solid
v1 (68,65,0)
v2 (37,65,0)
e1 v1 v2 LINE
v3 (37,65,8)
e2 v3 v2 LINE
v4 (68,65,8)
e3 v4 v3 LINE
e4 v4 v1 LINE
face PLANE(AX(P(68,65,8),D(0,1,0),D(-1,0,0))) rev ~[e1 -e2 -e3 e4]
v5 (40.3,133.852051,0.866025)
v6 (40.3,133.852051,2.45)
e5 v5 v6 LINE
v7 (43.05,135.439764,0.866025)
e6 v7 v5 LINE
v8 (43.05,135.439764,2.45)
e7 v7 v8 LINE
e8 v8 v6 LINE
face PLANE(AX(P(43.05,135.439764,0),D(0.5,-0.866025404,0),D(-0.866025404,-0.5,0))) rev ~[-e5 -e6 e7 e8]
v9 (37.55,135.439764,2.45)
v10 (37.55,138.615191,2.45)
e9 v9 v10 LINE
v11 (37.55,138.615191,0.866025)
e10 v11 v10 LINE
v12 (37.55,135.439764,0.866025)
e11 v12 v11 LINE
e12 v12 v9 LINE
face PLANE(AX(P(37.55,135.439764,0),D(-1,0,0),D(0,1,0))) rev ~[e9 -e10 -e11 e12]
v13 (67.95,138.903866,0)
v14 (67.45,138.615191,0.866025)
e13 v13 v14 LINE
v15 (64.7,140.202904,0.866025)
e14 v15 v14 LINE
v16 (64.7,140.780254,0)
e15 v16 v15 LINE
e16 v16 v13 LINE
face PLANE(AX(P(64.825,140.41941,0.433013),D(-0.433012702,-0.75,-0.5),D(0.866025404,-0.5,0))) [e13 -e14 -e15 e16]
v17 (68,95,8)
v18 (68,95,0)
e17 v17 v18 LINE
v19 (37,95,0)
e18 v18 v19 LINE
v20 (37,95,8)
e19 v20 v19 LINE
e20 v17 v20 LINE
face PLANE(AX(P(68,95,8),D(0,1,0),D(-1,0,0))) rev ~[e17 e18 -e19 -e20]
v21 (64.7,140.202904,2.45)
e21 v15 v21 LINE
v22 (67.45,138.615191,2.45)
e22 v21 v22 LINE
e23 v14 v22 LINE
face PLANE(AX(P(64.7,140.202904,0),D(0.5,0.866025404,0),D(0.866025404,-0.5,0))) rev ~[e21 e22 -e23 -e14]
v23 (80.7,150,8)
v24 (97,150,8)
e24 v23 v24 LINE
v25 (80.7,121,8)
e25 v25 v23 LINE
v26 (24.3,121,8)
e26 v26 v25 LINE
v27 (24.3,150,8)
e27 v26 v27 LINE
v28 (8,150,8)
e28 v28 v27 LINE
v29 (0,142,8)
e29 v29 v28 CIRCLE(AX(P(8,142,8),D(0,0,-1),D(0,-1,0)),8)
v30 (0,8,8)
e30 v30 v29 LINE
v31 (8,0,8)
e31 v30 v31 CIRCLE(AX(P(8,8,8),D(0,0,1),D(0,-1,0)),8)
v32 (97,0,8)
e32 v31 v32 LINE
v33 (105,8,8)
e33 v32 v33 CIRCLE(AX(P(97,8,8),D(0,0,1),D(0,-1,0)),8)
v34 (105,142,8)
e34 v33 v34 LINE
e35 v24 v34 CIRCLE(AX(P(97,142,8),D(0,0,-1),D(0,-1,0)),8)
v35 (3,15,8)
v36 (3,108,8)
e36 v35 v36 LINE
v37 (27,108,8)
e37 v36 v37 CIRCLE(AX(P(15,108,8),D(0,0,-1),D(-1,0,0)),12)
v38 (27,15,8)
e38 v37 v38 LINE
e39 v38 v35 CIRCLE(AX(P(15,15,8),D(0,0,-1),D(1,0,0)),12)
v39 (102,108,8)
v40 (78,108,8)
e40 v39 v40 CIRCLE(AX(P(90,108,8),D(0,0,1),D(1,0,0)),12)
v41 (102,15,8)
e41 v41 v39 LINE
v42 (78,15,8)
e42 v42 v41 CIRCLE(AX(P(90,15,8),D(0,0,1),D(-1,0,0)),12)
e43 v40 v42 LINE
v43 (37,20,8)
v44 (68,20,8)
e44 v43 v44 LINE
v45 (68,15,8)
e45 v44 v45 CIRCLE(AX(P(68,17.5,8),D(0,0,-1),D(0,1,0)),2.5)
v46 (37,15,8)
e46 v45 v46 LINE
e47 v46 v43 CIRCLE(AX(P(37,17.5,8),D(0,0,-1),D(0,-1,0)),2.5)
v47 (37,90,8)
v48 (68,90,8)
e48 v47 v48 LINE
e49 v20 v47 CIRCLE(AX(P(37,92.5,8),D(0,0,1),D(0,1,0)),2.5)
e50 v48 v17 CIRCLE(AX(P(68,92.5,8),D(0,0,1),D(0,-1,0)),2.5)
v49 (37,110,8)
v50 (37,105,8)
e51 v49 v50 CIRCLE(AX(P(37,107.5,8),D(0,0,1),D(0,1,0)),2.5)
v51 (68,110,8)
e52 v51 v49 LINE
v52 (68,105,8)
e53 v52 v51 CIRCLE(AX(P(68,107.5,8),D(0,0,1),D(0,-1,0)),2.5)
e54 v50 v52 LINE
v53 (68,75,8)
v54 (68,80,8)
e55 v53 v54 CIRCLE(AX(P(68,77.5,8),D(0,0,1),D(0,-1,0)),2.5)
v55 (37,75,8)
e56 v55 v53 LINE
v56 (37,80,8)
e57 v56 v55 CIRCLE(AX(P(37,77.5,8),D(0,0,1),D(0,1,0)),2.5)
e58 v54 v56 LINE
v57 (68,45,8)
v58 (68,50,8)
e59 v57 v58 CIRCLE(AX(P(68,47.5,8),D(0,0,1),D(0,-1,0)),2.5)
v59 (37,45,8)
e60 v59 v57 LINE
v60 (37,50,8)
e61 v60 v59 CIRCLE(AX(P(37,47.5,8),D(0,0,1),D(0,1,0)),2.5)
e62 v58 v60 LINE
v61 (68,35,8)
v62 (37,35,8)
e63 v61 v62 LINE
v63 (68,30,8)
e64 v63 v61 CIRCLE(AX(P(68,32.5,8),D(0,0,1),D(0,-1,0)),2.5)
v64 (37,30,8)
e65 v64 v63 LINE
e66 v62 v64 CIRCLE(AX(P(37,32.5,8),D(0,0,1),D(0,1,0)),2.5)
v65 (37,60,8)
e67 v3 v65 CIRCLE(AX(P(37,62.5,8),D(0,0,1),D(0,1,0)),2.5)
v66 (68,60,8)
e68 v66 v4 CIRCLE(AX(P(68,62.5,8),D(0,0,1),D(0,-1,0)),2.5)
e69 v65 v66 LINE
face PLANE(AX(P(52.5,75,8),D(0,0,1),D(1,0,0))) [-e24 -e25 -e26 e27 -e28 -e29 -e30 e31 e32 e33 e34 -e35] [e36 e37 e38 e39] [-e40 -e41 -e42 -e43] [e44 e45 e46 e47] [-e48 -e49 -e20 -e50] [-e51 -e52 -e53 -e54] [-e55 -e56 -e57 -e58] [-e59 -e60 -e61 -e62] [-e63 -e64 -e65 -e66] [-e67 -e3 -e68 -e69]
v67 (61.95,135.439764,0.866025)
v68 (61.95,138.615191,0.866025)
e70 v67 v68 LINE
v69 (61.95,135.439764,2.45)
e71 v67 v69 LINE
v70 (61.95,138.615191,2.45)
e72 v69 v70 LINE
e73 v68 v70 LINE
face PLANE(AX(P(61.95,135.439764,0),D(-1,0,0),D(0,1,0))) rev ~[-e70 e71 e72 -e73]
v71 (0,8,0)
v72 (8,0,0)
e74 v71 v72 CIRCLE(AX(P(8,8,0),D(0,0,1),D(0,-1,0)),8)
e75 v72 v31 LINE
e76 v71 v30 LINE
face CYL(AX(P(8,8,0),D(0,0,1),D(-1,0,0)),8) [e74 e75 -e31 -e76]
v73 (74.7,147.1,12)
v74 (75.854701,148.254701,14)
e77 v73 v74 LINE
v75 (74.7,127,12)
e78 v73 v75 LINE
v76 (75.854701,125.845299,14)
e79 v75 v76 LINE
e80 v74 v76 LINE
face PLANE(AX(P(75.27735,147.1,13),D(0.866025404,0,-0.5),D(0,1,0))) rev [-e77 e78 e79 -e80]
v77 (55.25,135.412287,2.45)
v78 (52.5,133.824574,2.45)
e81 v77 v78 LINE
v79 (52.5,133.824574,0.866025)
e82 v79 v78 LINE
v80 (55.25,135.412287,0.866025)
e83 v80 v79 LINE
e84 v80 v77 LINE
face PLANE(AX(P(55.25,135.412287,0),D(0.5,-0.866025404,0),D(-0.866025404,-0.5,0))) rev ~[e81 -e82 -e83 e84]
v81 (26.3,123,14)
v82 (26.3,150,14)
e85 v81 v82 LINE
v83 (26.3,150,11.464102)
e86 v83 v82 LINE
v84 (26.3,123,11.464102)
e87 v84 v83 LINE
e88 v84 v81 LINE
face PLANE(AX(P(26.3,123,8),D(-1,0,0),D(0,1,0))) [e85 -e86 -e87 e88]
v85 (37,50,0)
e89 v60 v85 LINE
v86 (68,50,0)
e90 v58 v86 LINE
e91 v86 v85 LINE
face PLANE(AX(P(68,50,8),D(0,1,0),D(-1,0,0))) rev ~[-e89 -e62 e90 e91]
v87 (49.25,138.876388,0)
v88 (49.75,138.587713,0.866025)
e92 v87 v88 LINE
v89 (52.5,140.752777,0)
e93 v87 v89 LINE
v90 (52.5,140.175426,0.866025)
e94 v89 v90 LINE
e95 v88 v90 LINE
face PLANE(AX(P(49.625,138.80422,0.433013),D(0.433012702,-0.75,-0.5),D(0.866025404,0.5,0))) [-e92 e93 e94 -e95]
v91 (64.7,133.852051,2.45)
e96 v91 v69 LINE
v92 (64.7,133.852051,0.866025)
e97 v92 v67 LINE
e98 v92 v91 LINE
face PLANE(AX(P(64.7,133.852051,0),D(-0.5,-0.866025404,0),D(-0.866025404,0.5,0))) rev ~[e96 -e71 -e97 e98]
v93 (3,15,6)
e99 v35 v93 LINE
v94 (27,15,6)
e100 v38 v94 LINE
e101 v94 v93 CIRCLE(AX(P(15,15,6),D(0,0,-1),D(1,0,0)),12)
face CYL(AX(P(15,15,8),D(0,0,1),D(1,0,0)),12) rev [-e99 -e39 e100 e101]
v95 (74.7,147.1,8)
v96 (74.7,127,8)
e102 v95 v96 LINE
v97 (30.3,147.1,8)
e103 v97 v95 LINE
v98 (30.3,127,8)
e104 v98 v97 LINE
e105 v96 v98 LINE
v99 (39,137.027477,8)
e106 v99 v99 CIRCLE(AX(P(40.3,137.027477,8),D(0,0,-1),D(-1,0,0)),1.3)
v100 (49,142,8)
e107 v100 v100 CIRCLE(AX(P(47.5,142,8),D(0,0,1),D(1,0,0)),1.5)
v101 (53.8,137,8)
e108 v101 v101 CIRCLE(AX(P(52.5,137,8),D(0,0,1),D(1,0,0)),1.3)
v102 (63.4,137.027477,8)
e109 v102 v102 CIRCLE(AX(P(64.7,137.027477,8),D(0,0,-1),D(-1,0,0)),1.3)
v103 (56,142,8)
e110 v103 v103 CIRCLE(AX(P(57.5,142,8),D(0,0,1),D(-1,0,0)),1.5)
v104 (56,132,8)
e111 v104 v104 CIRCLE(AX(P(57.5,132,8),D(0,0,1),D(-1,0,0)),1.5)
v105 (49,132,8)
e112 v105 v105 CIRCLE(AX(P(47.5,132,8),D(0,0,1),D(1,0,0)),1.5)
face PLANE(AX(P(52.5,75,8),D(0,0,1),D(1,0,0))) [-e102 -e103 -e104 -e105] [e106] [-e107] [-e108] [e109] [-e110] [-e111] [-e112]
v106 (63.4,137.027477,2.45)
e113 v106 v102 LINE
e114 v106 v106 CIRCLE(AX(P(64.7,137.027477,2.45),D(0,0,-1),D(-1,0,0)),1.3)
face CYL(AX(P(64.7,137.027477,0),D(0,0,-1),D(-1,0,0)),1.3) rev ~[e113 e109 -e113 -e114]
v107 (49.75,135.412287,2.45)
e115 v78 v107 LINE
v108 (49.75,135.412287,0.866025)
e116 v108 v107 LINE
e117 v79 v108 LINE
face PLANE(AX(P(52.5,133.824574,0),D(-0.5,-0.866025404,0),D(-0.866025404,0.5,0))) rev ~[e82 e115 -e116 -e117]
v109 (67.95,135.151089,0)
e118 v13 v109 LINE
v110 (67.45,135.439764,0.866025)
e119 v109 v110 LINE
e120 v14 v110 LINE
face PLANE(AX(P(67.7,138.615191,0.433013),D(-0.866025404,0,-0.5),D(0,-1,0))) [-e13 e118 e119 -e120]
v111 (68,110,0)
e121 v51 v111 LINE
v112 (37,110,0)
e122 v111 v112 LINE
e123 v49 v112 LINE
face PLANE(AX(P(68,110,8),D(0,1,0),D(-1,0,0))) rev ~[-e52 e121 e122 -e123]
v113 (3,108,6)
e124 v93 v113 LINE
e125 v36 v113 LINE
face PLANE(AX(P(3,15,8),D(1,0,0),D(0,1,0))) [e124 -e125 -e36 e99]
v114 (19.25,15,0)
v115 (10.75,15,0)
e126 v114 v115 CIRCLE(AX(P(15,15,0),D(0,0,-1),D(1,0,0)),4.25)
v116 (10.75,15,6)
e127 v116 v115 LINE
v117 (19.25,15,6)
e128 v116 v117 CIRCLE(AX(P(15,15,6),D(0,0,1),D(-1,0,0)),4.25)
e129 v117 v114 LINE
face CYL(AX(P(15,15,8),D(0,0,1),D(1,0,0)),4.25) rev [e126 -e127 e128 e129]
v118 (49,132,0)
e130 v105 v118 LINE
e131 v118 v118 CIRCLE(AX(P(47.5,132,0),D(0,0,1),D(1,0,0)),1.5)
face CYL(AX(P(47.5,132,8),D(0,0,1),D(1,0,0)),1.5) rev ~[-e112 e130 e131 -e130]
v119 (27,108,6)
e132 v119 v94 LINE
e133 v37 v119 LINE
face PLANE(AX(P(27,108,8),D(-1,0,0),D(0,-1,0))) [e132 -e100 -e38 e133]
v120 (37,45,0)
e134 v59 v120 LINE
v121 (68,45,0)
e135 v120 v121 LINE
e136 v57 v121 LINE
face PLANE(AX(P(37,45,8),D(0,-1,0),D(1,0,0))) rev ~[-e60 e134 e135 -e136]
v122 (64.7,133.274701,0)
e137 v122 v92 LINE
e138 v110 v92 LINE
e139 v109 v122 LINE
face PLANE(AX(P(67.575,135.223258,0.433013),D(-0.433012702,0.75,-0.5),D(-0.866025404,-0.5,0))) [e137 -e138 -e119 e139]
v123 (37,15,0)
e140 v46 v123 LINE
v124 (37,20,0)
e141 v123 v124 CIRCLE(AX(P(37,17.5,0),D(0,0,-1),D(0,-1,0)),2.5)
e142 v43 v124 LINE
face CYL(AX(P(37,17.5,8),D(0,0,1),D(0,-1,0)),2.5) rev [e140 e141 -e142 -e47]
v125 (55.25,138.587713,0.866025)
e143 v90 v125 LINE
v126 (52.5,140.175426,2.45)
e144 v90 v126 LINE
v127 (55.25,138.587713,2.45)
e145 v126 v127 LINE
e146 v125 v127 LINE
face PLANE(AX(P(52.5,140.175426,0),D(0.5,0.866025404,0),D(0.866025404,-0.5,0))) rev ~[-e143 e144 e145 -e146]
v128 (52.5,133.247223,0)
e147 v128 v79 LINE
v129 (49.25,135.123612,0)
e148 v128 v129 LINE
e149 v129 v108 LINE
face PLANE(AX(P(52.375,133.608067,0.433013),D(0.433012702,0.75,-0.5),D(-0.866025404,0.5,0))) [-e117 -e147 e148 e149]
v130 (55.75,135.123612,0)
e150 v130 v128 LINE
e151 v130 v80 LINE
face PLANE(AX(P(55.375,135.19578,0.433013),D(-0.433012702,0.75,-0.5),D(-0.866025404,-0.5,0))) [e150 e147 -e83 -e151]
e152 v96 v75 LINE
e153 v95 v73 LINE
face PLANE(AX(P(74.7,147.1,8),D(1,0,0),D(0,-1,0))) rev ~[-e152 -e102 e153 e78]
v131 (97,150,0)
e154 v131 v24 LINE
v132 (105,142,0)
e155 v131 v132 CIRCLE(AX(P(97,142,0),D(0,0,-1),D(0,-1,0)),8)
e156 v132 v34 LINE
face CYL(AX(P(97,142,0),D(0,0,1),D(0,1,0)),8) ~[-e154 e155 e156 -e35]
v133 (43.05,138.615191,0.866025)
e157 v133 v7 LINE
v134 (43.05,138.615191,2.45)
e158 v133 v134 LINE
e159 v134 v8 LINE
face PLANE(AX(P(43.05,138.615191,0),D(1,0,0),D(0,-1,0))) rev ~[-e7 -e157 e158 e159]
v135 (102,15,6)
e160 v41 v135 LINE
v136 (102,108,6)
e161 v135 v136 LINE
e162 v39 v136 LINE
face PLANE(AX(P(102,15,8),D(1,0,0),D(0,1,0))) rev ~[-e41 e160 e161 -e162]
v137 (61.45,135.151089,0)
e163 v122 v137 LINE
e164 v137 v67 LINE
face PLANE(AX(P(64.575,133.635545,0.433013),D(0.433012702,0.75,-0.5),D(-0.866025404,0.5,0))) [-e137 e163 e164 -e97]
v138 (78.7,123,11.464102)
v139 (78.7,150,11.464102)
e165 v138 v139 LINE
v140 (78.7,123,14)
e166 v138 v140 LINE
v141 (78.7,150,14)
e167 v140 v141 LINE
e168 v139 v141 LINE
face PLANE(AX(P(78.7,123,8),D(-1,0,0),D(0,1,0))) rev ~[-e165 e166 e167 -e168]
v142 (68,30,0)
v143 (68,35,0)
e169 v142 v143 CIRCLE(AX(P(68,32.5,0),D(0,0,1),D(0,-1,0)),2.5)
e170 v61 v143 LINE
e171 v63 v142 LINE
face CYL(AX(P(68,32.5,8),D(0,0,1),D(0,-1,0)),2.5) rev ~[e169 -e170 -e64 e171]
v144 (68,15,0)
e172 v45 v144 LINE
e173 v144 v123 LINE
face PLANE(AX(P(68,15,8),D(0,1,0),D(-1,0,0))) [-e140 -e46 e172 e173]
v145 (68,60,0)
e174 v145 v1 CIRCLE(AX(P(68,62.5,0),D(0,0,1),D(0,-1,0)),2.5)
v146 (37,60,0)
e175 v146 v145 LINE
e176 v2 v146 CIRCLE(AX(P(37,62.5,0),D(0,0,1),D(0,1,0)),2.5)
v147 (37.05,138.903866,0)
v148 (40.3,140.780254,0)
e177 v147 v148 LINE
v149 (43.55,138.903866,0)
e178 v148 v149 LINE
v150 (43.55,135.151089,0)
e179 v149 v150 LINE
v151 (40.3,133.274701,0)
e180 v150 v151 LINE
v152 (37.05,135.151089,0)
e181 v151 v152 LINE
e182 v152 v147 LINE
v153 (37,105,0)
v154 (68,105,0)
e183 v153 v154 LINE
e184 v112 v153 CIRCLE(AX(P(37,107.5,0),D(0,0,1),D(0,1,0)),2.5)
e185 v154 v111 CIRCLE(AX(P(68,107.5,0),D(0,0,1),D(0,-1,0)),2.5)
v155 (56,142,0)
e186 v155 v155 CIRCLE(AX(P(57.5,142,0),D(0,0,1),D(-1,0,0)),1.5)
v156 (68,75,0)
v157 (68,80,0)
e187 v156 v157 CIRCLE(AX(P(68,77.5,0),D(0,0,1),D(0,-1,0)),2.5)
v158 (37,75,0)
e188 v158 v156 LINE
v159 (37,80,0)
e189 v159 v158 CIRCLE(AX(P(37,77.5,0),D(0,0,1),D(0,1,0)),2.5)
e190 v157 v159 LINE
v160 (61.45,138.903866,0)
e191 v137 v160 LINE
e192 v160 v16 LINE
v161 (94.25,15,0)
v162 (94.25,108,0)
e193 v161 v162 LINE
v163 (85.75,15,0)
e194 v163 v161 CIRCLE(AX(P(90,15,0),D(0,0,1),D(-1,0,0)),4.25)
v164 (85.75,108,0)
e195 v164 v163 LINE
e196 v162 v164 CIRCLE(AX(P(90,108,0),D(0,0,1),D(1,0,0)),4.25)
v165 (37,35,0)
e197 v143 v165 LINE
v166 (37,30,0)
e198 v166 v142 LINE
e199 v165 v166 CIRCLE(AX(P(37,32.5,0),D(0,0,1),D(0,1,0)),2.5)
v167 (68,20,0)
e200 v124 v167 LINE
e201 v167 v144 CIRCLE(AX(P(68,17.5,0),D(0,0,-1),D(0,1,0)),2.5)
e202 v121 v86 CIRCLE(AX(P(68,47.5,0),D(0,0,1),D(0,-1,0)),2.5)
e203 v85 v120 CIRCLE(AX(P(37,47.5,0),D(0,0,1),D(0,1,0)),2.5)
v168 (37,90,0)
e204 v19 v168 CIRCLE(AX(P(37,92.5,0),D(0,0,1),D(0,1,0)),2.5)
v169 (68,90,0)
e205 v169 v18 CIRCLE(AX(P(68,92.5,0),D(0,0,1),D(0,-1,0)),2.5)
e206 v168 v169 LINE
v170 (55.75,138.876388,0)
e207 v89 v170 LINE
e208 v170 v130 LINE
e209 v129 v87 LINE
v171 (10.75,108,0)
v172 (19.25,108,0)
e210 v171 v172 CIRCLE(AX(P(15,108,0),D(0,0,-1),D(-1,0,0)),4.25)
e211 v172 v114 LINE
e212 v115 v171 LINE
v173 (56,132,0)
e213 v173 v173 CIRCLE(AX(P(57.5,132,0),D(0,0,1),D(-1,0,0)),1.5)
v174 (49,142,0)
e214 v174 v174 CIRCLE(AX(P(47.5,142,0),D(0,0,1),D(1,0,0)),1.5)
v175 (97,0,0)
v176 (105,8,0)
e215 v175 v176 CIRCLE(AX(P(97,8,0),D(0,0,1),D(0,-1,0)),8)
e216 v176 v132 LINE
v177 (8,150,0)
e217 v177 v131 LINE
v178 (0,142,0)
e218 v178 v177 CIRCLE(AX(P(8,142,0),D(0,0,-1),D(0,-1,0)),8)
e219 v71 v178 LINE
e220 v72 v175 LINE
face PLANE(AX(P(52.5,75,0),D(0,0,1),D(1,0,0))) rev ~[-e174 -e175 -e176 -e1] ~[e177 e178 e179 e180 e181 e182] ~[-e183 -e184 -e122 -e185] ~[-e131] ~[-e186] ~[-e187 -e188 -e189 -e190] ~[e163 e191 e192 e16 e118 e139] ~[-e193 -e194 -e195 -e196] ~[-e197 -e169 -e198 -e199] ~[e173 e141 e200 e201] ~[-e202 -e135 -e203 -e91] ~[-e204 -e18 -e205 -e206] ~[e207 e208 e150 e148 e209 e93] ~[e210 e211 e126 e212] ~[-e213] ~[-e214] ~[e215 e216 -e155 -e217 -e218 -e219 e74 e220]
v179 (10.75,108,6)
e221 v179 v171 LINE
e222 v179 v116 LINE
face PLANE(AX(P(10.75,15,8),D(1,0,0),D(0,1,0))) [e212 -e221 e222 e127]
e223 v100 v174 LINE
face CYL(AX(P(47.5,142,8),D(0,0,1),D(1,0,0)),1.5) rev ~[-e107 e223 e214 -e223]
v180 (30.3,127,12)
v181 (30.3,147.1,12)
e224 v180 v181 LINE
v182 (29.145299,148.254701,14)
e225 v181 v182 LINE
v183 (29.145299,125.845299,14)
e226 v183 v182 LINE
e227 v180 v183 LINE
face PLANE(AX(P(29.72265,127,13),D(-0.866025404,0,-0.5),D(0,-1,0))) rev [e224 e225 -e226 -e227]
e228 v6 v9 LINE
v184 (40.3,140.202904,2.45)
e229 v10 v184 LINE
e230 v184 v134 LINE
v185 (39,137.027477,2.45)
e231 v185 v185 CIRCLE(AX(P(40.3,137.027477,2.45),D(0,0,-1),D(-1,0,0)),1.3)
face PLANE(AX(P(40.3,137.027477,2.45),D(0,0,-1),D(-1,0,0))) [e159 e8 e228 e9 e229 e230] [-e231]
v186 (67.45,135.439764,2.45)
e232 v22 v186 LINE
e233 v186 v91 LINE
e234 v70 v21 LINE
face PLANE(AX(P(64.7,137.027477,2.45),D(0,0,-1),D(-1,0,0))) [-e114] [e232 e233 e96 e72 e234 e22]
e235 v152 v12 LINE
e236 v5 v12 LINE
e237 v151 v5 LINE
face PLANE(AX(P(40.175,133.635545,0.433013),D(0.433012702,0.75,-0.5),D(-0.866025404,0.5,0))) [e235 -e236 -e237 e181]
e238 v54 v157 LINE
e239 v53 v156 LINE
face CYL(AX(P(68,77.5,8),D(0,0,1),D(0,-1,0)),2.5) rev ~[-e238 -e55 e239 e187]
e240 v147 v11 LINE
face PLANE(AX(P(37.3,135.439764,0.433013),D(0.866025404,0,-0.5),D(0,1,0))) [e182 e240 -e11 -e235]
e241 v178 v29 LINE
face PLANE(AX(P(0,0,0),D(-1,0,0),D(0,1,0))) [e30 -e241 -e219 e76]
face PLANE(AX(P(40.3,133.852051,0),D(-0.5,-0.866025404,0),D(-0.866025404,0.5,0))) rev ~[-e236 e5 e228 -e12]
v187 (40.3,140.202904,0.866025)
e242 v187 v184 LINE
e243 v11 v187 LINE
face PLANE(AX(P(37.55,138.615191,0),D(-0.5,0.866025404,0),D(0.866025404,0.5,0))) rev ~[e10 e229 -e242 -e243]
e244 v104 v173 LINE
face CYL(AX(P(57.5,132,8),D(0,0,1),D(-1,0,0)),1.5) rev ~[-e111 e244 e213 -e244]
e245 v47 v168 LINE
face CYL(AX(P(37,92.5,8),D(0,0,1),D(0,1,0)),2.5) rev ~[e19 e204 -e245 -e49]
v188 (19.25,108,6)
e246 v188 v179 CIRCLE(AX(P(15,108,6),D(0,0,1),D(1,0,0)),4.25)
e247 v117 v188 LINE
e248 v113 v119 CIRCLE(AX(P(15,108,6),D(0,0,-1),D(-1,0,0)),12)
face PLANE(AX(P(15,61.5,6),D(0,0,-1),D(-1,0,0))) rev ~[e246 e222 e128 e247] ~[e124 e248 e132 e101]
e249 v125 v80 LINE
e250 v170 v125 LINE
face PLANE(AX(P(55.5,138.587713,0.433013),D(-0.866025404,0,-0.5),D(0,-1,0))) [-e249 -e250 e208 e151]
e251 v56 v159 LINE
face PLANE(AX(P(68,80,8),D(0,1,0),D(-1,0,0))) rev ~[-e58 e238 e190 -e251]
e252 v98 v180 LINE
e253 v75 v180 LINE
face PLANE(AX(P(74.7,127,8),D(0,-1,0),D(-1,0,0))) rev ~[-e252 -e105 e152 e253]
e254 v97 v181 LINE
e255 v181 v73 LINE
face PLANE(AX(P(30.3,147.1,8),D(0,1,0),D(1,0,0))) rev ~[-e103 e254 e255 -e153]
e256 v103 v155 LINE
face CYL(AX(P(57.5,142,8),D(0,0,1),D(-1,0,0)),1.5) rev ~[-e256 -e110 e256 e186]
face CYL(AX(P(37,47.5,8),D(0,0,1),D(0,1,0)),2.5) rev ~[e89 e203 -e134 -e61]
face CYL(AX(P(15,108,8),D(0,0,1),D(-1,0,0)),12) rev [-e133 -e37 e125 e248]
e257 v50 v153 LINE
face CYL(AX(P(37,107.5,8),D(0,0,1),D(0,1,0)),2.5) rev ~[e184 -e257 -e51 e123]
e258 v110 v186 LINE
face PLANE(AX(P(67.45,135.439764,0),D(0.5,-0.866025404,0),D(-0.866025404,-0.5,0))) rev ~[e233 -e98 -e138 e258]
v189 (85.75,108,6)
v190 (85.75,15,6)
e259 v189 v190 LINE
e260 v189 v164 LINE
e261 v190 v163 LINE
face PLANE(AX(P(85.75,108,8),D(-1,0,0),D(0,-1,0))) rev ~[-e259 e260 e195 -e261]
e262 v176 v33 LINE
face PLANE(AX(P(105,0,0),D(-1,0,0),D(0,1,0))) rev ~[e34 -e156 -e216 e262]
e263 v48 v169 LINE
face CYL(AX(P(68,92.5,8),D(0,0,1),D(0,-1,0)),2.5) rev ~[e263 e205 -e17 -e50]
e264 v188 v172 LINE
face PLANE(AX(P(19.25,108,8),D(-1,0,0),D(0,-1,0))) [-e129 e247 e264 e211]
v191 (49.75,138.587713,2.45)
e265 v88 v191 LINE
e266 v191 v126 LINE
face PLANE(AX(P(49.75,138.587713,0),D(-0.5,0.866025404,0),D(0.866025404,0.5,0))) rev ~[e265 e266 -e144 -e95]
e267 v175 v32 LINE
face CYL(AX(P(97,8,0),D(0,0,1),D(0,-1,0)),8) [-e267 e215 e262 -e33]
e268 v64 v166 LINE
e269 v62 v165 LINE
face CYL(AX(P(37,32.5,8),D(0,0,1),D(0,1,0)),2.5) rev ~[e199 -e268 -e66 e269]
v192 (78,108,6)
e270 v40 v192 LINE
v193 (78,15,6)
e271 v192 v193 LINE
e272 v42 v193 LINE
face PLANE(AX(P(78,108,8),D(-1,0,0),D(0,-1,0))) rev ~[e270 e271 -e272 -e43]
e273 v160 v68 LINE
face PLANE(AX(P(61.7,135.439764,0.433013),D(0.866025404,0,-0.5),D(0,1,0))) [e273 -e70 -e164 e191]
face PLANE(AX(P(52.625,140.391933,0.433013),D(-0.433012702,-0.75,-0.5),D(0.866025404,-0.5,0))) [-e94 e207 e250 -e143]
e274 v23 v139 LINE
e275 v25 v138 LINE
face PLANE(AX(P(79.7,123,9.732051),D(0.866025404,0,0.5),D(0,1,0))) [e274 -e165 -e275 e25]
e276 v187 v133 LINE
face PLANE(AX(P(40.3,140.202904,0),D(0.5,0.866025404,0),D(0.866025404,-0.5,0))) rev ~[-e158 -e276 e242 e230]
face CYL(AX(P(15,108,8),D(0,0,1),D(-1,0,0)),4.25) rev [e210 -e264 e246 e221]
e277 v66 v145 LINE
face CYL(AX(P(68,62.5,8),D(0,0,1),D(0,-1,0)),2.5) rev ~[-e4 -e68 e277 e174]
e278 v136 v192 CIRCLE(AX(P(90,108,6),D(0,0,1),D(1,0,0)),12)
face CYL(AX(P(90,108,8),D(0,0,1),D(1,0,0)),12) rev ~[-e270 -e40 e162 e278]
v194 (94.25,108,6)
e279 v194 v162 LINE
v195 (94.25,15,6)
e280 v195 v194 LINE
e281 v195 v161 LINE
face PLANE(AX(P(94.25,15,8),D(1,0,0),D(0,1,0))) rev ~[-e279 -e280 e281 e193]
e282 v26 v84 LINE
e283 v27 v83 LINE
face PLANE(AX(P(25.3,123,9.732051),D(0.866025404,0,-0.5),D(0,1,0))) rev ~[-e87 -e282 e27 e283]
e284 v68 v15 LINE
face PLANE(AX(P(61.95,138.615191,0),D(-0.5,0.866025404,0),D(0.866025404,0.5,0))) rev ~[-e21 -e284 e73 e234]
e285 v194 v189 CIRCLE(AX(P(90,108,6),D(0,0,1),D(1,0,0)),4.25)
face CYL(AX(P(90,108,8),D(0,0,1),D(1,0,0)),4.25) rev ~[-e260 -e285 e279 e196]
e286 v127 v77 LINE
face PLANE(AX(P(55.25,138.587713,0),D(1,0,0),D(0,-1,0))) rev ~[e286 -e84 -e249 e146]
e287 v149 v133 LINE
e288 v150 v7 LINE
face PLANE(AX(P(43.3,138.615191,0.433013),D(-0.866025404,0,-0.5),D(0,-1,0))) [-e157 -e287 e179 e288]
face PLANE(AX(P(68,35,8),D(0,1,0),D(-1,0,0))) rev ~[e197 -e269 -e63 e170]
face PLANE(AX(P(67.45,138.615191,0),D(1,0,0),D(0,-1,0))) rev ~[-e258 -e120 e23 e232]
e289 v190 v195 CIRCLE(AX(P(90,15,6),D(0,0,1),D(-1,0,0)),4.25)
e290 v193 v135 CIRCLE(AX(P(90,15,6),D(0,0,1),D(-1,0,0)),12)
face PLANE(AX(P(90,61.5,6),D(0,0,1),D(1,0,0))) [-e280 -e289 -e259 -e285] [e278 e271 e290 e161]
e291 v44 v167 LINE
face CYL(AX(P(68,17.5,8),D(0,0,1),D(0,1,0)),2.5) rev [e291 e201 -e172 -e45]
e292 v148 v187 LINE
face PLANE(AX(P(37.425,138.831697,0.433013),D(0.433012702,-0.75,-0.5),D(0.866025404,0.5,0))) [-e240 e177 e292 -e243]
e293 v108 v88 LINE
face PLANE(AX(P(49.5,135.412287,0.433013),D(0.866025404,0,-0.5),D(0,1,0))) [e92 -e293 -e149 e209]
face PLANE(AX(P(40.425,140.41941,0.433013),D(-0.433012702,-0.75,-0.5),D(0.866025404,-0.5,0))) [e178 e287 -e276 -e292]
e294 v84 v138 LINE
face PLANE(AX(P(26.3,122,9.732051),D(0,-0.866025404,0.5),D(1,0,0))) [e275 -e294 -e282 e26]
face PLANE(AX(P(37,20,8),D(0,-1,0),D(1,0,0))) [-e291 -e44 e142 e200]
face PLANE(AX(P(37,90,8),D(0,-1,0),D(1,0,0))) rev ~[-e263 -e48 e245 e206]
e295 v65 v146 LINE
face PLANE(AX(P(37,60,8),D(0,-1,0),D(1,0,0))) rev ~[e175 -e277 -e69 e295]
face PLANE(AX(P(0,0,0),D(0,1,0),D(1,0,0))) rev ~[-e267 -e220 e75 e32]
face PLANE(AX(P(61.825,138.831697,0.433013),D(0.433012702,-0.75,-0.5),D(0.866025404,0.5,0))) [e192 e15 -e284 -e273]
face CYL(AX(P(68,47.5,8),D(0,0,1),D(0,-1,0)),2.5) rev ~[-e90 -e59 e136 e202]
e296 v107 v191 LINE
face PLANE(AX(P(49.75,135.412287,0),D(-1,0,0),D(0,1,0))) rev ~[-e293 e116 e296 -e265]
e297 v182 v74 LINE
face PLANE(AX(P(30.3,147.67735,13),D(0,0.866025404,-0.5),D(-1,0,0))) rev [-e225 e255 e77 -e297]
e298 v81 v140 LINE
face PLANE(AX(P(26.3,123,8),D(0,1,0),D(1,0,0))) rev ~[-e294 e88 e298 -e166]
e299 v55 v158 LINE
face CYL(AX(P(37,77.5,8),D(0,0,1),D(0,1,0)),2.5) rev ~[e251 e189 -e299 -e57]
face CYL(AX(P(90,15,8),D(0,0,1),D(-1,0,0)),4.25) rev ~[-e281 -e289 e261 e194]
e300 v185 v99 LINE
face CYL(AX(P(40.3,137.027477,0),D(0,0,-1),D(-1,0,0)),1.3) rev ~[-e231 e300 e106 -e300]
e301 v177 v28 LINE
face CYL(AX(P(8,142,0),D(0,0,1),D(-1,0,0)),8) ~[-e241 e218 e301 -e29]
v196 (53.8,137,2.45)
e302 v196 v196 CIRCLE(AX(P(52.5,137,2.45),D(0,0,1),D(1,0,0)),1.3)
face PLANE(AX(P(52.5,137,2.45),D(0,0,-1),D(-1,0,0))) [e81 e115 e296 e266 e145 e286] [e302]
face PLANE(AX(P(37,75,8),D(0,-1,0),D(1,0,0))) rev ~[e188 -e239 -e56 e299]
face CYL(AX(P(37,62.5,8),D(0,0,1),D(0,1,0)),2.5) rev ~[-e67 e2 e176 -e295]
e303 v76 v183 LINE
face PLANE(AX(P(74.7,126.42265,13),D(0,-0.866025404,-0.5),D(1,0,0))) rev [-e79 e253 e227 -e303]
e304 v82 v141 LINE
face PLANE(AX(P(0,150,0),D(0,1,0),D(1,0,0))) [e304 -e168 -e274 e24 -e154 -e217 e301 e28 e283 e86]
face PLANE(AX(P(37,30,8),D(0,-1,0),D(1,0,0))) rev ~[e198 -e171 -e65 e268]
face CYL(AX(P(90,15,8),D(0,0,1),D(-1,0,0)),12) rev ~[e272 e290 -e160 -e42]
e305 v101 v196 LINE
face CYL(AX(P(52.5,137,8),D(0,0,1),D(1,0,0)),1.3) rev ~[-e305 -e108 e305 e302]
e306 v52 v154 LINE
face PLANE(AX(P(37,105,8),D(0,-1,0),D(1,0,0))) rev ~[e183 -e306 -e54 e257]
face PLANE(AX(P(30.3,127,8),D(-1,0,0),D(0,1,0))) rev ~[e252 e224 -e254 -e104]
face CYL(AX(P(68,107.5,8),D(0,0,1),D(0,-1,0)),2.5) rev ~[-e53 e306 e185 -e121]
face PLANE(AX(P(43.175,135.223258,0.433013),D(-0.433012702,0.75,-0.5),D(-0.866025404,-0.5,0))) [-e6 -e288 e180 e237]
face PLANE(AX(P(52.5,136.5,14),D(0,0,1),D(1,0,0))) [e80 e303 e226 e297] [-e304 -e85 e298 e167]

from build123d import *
from OCP.BRepFilletAPI import BRepFilletAPI_MakeChamfer

# Parameters (mm, degrees)
CROQUIS1_W              = 105
CROQUIS1_H              = 150
SALIENTE_EXTRUIR1_DEPTH = 8
CROQUIS2_R              = 1.3
CROQUIS2_R_2            = 1.5
CORTAR_EXTRUIR4_DEPTH   = 8
CROQUIS3_W              = 52.4
CROQUIS3_H              = 27
SALIENTE_EXTRUIR2_DEPTH = 6
REDONDEO1_R             = 8
REDONDEO2_R             = 8
REDONDEO3_R             = 8
REDONDEO4_R             = 8
CORTAR_EXTRUIR5_DEPTH   = 2
CHAFL_N1_SIZE           = 2
CHAFL_N1_SIZE2          = 1.154700538
CHAFL_N2_SIZE           = 2
CHAFL_N2_SIZE2          = 3.464101615
CORTAR_EXTRUIR6_DEPTH   = 8
CORTAR_EXTRUIR7_DEPTH   = 2.45
CHAFL_N3_SIZE           = 0.5
CHAFL_N3_SIZE2          = 0.866025404
CROQUIS9_R              = 1.3
CORTAR_EXTRUIR9_DEPTH   = 8


with BuildPart() as part:
    # Croquis1 → Saliente-Extruir1 (new body)
    with BuildSketch(Plane.XY):
        with Locations((52.5, 75)):
            Rectangle(CROQUIS1_W, CROQUIS1_H)
    extrude(amount=SALIENTE_EXTRUIR1_DEPTH)

    # Croquis2 → Cortar-Extruir4 (cut)
    with BuildSketch(Plane.XY.offset(8)):
        with Locations((52.5, 137)):
            Circle(CROQUIS2_R)
        with Locations((47.5, 142)):
            Circle(CROQUIS2_R_2)
        with Locations((47.5, 132)):
            Circle(CROQUIS2_R_2)
        with Locations(Location((57.5, 132, 0), (0, 0, 180))):
            Circle(CROQUIS2_R_2)
        with Locations(Location((57.5, 142, 0), (0, 0, 180))):
            Circle(CROQUIS2_R_2)
        with BuildLine():
            Line((19.25, 108), (19.25, 15))
            ThreePointArc((19.25, 15), (15, 10.75), (10.75, 15))
            Line((10.75, 15), (10.75, 108))
            ThreePointArc((10.75, 108), (15, 112.25), (19.25, 108))
        make_face()
        with BuildLine():
            Line((85.75, 108), (85.75, 15))
            ThreePointArc((85.75, 15), (90, 10.75), (94.25, 15))
            Line((94.25, 15), (94.25, 108))
            ThreePointArc((94.25, 108), (90, 112.25), (85.75, 108))
        make_face()
    extrude(amount=-CORTAR_EXTRUIR4_DEPTH, mode=Mode.SUBTRACT)

    # Croquis3 → Saliente-Extruir2 (add)
    with BuildSketch(Plane.XY.offset(8)):
        with Locations((52.5, 136.5)):
            Rectangle(CROQUIS3_W, CROQUIS3_H)
        Polygon((74.7, 127), (52.5, 127), (30.3, 127), (30.3, 147.1), (74.7, 147.1), align=None, mode=Mode.SUBTRACT)
    extrude(amount=SALIENTE_EXTRUIR2_DEPTH)

    # Redondeo1
    redondeo1_edges = [part.edges().sort_by_distance(p)[0] for p in [
        (0, 150, 4),
    ]]
    fillet(redondeo1_edges, radius=REDONDEO1_R)

    # Redondeo2
    redondeo2_edges = [part.edges().sort_by_distance(p)[0] for p in [
        (105, 150, 4),
    ]]
    fillet(redondeo2_edges, radius=REDONDEO2_R)

    # Redondeo3
    redondeo3_edges = [part.edges().sort_by_distance(p)[0] for p in [
        (0, 0, 4),
    ]]
    fillet(redondeo3_edges, radius=REDONDEO3_R)

    # Redondeo4
    redondeo4_edges = [part.edges().sort_by_distance(p)[0] for p in [
        (105, 0, 4),
    ]]
    fillet(redondeo4_edges, radius=REDONDEO4_R)

    # Croquis4 → Cortar-Extruir5 (cut)
    # profile 1 of 2: a face of its own
    with BuildSketch(Plane.XY.offset(8)):
        with BuildLine():
            Line((27, 108), (27, 15))
            ThreePointArc((27, 15), (15, 3), (3, 15))
            Line((3, 15), (3, 108))
            ThreePointArc((3, 108), (15, 120), (27, 108))
        make_face()
        with BuildLine():
            Line((10.75, 108), (10.75, 15))
            ThreePointArc((10.75, 15), (15, 10.75), (19.25, 15))
            Line((19.25, 15), (19.25, 108))
            ThreePointArc((19.25, 108), (15, 112.25), (10.75, 108))
        make_face(mode=Mode.SUBTRACT)
    # profile 2 of 2: a face of its own
    with BuildSketch(Plane.XY.offset(8)):
        with BuildLine():
            Line((78, 108), (78, 15))
            ThreePointArc((78, 15), (90, 3), (102, 15))
            Line((102, 15), (102, 108))
            ThreePointArc((102, 108), (90, 120), (78, 108))
        make_face()
        with BuildLine():
            Line((85.75, 108), (85.75, 15))
            ThreePointArc((85.75, 15), (90, 10.75), (94.25, 15))
            Line((94.25, 15), (94.25, 108))
            ThreePointArc((94.25, 108), (90, 112.25), (85.75, 108))
        make_face(mode=Mode.SUBTRACT)
    extrude(amount=-CORTAR_EXTRUIR5_DEPTH, mode=Mode.SUBTRACT)

    # Chaflán1: one chamfer whose edges measure the first distance from different faces: ONE call of the kernel's chamfer builder (chamfer() names one face for all edges)
    chafl_n1_edges_1 = [part.edges().sort_by_distance(p)[0] for p in [
        (52.5, 127, 14),
    ]]
    chafl_n1_side_1 = [part.faces().sort_by_distance(p)[0] for p in [
        (52.5, 127, 11),
    ]]
    chafl_n1_edges_2 = [part.edges().sort_by_distance(p)[0] for p in [
        (30.3, 137.05, 14),
    ]]
    chafl_n1_side_2 = [part.faces().sort_by_distance(p)[0] for p in [
        (30.3, 137.05, 11),
    ]]
    chafl_n1_edges_3 = [part.edges().sort_by_distance(p)[0] for p in [
        (52.5, 147.1, 14),
    ]]
    chafl_n1_side_3 = [part.faces().sort_by_distance(p)[0] for p in [
        (52.5, 147.1, 11),
    ]]
    chafl_n1_edges_4 = [part.edges().sort_by_distance(p)[0] for p in [
        (74.7, 137.05, 14),
    ]]
    chafl_n1_side_4 = [part.faces().sort_by_distance(p)[0] for p in [
        (74.7, 137.05, 11),
    ]]
    chafl_n1 = BRepFilletAPI_MakeChamfer(part.part.solid().wrapped)
    for e in chafl_n1_edges_1:
        chafl_n1.Add(CHAFL_N1_SIZE, CHAFL_N1_SIZE2, e.wrapped, chafl_n1_side_1[0].wrapped)  # the first distance lies on this face
    for e in chafl_n1_edges_2:
        chafl_n1.Add(CHAFL_N1_SIZE, CHAFL_N1_SIZE2, e.wrapped, chafl_n1_side_2[0].wrapped)  # the first distance lies on this face
    for e in chafl_n1_edges_3:
        chafl_n1.Add(CHAFL_N1_SIZE, CHAFL_N1_SIZE2, e.wrapped, chafl_n1_side_3[0].wrapped)  # the first distance lies on this face
    for e in chafl_n1_edges_4:
        chafl_n1.Add(CHAFL_N1_SIZE, CHAFL_N1_SIZE2, e.wrapped, chafl_n1_side_4[0].wrapped)  # the first distance lies on this face
    add(Compound.cast(chafl_n1.Shape()), mode=Mode.REPLACE)

    # Chaflán2
    chafl_n2_edges = [part.edges().sort_by_distance(p)[0] for p in [
        (52.5, 123, 8),
        (78.7, 136.5, 8),
        (26.3, 136.5, 8),
    ]]
    chafl_n2_side = [part.faces().sort_by_distance(p)[0] for p in [
        (52.5, 73.36933007, 8),
    ]]
    chamfer(chafl_n2_edges, length=CHAFL_N2_SIZE, length2=CHAFL_N2_SIZE2, reference=chafl_n2_side[0])

    # Croquis6 → Cortar-Extruir6 (cut)
    with BuildSketch(Plane.XY.offset(8)):
        with BuildLine():
            Line((37, 20), (68, 20))
            ThreePointArc((68, 20), (70.5, 17.5), (68, 15))
            Line((68, 15), (37, 15))
            ThreePointArc((37, 15), (34.5, 17.5), (37, 20))
        make_face()
        with BuildLine():
            Line((37, 30), (68, 30))
            ThreePointArc((68, 30), (70.5, 32.5), (68, 35))
            Line((68, 35), (37, 35))
            ThreePointArc((37, 35), (34.5, 32.5), (37, 30))
        make_face()
        with BuildLine():
            Line((37, 45), (68, 45))
            ThreePointArc((68, 45), (70.5, 47.5), (68, 50))
            Line((68, 50), (37, 50))
            ThreePointArc((37, 50), (34.5, 47.5), (37, 45))
        make_face()
        with BuildLine():
            Line((37, 60), (68, 60))
            ThreePointArc((68, 60), (70.5, 62.5), (68, 65))
            Line((68, 65), (37, 65))
            ThreePointArc((37, 65), (34.5, 62.5), (37, 60))
        make_face()
        with BuildLine():
            Line((37, 75), (68, 75))
            ThreePointArc((68, 75), (70.5, 77.5), (68, 80))
            Line((68, 80), (37, 80))
            ThreePointArc((37, 80), (34.5, 77.5), (37, 75))
        make_face()
        with BuildLine():
            Line((37, 90), (68, 90))
            ThreePointArc((68, 90), (70.5, 92.5), (68, 95))
            Line((68, 95), (37, 95))
            ThreePointArc((37, 95), (34.5, 92.5), (37, 90))
        make_face()
        with BuildLine():
            Line((37, 105), (68, 105))
            ThreePointArc((68, 105), (70.5, 107.5), (68, 110))
            Line((68, 110), (37, 110))
            ThreePointArc((37, 110), (34.5, 107.5), (37, 105))
        make_face()
    extrude(amount=-CORTAR_EXTRUIR6_DEPTH, mode=Mode.SUBTRACT)

    # Croquis8 → Cortar-Extruir7 (cut)
    with BuildSketch(Plane(origin=(0, 0, 0), x_dir=(-1, 0, 0), z_dir=(0, 0, -1))):
        Polygon((-52.5, 140.175426481), (-55.25, 138.58771324), (-55.25, 135.41228676), (-52.5, 133.824573519), (-49.75, 135.41228676), (-49.75, 138.58771324), align=None)
        Polygon((-64.7, 140.202903958), (-67.45, 138.615190718), (-67.45, 135.439764237), (-64.7, 133.852050997), (-61.95, 135.439764237), (-61.95, 138.615190718), align=None)
        Polygon((-37.55, 138.615190718), (-40.3, 140.202903958), (-43.05, 138.615190718), (-43.05, 135.439764237), (-40.3, 133.852050997), (-37.55, 135.439764237), align=None)
    extrude(amount=-CORTAR_EXTRUIR7_DEPTH, mode=Mode.SUBTRACT)

    # Chaflán3
    chafl_n3_edges = [part.edges().sort_by_distance(p)[0] for p in [
        (66.075, 134.645907617, 0),
        (63.325, 134.645907617, 0),
        (61.95, 137.027477477, 0),
        (63.325, 139.409047338, 0),
        (66.075, 139.409047338, 0),
        (67.45, 137.027477477, 0),
        (41.675, 139.409047338, 0),
        (43.05, 137.027477477, 0),
        (41.675, 134.645907617, 0),
        (38.925, 134.645907617, 0),
        (37.55, 137.027477477, 0),
        (38.925, 139.409047338, 0),
        (49.75, 137, 0),
        (51.125, 139.38156986, 0),
        (53.875, 139.38156986, 0),
        (55.25, 137, 0),
        (53.875, 134.61843014, 0),
        (51.125, 134.61843014, 0),
    ]]
    chafl_n3_side = [part.faces().sort_by_distance(p)[0] for p in [
        (52.5, 1.830983342, 0),
    ]]
    chamfer(chafl_n3_edges, length=CHAFL_N3_SIZE, length2=CHAFL_N3_SIZE2, reference=chafl_n3_side[0])

    # Croquis9 → Cortar-Extruir9 (cut)
    with BuildSketch(Plane(origin=(0, 0, 0), x_dir=(-1, 0, 0), z_dir=(0, 0, -1))):
        with Locations((-64.7, 137.027477477)):
            Circle(CROQUIS9_R)
        with Locations((-40.3, 137.027477477)):
            Circle(CROQUIS9_R)
    extrude(amount=-CORTAR_EXTRUIR9_DEPTH, mode=Mode.SUBTRACT)


solid = part.part
